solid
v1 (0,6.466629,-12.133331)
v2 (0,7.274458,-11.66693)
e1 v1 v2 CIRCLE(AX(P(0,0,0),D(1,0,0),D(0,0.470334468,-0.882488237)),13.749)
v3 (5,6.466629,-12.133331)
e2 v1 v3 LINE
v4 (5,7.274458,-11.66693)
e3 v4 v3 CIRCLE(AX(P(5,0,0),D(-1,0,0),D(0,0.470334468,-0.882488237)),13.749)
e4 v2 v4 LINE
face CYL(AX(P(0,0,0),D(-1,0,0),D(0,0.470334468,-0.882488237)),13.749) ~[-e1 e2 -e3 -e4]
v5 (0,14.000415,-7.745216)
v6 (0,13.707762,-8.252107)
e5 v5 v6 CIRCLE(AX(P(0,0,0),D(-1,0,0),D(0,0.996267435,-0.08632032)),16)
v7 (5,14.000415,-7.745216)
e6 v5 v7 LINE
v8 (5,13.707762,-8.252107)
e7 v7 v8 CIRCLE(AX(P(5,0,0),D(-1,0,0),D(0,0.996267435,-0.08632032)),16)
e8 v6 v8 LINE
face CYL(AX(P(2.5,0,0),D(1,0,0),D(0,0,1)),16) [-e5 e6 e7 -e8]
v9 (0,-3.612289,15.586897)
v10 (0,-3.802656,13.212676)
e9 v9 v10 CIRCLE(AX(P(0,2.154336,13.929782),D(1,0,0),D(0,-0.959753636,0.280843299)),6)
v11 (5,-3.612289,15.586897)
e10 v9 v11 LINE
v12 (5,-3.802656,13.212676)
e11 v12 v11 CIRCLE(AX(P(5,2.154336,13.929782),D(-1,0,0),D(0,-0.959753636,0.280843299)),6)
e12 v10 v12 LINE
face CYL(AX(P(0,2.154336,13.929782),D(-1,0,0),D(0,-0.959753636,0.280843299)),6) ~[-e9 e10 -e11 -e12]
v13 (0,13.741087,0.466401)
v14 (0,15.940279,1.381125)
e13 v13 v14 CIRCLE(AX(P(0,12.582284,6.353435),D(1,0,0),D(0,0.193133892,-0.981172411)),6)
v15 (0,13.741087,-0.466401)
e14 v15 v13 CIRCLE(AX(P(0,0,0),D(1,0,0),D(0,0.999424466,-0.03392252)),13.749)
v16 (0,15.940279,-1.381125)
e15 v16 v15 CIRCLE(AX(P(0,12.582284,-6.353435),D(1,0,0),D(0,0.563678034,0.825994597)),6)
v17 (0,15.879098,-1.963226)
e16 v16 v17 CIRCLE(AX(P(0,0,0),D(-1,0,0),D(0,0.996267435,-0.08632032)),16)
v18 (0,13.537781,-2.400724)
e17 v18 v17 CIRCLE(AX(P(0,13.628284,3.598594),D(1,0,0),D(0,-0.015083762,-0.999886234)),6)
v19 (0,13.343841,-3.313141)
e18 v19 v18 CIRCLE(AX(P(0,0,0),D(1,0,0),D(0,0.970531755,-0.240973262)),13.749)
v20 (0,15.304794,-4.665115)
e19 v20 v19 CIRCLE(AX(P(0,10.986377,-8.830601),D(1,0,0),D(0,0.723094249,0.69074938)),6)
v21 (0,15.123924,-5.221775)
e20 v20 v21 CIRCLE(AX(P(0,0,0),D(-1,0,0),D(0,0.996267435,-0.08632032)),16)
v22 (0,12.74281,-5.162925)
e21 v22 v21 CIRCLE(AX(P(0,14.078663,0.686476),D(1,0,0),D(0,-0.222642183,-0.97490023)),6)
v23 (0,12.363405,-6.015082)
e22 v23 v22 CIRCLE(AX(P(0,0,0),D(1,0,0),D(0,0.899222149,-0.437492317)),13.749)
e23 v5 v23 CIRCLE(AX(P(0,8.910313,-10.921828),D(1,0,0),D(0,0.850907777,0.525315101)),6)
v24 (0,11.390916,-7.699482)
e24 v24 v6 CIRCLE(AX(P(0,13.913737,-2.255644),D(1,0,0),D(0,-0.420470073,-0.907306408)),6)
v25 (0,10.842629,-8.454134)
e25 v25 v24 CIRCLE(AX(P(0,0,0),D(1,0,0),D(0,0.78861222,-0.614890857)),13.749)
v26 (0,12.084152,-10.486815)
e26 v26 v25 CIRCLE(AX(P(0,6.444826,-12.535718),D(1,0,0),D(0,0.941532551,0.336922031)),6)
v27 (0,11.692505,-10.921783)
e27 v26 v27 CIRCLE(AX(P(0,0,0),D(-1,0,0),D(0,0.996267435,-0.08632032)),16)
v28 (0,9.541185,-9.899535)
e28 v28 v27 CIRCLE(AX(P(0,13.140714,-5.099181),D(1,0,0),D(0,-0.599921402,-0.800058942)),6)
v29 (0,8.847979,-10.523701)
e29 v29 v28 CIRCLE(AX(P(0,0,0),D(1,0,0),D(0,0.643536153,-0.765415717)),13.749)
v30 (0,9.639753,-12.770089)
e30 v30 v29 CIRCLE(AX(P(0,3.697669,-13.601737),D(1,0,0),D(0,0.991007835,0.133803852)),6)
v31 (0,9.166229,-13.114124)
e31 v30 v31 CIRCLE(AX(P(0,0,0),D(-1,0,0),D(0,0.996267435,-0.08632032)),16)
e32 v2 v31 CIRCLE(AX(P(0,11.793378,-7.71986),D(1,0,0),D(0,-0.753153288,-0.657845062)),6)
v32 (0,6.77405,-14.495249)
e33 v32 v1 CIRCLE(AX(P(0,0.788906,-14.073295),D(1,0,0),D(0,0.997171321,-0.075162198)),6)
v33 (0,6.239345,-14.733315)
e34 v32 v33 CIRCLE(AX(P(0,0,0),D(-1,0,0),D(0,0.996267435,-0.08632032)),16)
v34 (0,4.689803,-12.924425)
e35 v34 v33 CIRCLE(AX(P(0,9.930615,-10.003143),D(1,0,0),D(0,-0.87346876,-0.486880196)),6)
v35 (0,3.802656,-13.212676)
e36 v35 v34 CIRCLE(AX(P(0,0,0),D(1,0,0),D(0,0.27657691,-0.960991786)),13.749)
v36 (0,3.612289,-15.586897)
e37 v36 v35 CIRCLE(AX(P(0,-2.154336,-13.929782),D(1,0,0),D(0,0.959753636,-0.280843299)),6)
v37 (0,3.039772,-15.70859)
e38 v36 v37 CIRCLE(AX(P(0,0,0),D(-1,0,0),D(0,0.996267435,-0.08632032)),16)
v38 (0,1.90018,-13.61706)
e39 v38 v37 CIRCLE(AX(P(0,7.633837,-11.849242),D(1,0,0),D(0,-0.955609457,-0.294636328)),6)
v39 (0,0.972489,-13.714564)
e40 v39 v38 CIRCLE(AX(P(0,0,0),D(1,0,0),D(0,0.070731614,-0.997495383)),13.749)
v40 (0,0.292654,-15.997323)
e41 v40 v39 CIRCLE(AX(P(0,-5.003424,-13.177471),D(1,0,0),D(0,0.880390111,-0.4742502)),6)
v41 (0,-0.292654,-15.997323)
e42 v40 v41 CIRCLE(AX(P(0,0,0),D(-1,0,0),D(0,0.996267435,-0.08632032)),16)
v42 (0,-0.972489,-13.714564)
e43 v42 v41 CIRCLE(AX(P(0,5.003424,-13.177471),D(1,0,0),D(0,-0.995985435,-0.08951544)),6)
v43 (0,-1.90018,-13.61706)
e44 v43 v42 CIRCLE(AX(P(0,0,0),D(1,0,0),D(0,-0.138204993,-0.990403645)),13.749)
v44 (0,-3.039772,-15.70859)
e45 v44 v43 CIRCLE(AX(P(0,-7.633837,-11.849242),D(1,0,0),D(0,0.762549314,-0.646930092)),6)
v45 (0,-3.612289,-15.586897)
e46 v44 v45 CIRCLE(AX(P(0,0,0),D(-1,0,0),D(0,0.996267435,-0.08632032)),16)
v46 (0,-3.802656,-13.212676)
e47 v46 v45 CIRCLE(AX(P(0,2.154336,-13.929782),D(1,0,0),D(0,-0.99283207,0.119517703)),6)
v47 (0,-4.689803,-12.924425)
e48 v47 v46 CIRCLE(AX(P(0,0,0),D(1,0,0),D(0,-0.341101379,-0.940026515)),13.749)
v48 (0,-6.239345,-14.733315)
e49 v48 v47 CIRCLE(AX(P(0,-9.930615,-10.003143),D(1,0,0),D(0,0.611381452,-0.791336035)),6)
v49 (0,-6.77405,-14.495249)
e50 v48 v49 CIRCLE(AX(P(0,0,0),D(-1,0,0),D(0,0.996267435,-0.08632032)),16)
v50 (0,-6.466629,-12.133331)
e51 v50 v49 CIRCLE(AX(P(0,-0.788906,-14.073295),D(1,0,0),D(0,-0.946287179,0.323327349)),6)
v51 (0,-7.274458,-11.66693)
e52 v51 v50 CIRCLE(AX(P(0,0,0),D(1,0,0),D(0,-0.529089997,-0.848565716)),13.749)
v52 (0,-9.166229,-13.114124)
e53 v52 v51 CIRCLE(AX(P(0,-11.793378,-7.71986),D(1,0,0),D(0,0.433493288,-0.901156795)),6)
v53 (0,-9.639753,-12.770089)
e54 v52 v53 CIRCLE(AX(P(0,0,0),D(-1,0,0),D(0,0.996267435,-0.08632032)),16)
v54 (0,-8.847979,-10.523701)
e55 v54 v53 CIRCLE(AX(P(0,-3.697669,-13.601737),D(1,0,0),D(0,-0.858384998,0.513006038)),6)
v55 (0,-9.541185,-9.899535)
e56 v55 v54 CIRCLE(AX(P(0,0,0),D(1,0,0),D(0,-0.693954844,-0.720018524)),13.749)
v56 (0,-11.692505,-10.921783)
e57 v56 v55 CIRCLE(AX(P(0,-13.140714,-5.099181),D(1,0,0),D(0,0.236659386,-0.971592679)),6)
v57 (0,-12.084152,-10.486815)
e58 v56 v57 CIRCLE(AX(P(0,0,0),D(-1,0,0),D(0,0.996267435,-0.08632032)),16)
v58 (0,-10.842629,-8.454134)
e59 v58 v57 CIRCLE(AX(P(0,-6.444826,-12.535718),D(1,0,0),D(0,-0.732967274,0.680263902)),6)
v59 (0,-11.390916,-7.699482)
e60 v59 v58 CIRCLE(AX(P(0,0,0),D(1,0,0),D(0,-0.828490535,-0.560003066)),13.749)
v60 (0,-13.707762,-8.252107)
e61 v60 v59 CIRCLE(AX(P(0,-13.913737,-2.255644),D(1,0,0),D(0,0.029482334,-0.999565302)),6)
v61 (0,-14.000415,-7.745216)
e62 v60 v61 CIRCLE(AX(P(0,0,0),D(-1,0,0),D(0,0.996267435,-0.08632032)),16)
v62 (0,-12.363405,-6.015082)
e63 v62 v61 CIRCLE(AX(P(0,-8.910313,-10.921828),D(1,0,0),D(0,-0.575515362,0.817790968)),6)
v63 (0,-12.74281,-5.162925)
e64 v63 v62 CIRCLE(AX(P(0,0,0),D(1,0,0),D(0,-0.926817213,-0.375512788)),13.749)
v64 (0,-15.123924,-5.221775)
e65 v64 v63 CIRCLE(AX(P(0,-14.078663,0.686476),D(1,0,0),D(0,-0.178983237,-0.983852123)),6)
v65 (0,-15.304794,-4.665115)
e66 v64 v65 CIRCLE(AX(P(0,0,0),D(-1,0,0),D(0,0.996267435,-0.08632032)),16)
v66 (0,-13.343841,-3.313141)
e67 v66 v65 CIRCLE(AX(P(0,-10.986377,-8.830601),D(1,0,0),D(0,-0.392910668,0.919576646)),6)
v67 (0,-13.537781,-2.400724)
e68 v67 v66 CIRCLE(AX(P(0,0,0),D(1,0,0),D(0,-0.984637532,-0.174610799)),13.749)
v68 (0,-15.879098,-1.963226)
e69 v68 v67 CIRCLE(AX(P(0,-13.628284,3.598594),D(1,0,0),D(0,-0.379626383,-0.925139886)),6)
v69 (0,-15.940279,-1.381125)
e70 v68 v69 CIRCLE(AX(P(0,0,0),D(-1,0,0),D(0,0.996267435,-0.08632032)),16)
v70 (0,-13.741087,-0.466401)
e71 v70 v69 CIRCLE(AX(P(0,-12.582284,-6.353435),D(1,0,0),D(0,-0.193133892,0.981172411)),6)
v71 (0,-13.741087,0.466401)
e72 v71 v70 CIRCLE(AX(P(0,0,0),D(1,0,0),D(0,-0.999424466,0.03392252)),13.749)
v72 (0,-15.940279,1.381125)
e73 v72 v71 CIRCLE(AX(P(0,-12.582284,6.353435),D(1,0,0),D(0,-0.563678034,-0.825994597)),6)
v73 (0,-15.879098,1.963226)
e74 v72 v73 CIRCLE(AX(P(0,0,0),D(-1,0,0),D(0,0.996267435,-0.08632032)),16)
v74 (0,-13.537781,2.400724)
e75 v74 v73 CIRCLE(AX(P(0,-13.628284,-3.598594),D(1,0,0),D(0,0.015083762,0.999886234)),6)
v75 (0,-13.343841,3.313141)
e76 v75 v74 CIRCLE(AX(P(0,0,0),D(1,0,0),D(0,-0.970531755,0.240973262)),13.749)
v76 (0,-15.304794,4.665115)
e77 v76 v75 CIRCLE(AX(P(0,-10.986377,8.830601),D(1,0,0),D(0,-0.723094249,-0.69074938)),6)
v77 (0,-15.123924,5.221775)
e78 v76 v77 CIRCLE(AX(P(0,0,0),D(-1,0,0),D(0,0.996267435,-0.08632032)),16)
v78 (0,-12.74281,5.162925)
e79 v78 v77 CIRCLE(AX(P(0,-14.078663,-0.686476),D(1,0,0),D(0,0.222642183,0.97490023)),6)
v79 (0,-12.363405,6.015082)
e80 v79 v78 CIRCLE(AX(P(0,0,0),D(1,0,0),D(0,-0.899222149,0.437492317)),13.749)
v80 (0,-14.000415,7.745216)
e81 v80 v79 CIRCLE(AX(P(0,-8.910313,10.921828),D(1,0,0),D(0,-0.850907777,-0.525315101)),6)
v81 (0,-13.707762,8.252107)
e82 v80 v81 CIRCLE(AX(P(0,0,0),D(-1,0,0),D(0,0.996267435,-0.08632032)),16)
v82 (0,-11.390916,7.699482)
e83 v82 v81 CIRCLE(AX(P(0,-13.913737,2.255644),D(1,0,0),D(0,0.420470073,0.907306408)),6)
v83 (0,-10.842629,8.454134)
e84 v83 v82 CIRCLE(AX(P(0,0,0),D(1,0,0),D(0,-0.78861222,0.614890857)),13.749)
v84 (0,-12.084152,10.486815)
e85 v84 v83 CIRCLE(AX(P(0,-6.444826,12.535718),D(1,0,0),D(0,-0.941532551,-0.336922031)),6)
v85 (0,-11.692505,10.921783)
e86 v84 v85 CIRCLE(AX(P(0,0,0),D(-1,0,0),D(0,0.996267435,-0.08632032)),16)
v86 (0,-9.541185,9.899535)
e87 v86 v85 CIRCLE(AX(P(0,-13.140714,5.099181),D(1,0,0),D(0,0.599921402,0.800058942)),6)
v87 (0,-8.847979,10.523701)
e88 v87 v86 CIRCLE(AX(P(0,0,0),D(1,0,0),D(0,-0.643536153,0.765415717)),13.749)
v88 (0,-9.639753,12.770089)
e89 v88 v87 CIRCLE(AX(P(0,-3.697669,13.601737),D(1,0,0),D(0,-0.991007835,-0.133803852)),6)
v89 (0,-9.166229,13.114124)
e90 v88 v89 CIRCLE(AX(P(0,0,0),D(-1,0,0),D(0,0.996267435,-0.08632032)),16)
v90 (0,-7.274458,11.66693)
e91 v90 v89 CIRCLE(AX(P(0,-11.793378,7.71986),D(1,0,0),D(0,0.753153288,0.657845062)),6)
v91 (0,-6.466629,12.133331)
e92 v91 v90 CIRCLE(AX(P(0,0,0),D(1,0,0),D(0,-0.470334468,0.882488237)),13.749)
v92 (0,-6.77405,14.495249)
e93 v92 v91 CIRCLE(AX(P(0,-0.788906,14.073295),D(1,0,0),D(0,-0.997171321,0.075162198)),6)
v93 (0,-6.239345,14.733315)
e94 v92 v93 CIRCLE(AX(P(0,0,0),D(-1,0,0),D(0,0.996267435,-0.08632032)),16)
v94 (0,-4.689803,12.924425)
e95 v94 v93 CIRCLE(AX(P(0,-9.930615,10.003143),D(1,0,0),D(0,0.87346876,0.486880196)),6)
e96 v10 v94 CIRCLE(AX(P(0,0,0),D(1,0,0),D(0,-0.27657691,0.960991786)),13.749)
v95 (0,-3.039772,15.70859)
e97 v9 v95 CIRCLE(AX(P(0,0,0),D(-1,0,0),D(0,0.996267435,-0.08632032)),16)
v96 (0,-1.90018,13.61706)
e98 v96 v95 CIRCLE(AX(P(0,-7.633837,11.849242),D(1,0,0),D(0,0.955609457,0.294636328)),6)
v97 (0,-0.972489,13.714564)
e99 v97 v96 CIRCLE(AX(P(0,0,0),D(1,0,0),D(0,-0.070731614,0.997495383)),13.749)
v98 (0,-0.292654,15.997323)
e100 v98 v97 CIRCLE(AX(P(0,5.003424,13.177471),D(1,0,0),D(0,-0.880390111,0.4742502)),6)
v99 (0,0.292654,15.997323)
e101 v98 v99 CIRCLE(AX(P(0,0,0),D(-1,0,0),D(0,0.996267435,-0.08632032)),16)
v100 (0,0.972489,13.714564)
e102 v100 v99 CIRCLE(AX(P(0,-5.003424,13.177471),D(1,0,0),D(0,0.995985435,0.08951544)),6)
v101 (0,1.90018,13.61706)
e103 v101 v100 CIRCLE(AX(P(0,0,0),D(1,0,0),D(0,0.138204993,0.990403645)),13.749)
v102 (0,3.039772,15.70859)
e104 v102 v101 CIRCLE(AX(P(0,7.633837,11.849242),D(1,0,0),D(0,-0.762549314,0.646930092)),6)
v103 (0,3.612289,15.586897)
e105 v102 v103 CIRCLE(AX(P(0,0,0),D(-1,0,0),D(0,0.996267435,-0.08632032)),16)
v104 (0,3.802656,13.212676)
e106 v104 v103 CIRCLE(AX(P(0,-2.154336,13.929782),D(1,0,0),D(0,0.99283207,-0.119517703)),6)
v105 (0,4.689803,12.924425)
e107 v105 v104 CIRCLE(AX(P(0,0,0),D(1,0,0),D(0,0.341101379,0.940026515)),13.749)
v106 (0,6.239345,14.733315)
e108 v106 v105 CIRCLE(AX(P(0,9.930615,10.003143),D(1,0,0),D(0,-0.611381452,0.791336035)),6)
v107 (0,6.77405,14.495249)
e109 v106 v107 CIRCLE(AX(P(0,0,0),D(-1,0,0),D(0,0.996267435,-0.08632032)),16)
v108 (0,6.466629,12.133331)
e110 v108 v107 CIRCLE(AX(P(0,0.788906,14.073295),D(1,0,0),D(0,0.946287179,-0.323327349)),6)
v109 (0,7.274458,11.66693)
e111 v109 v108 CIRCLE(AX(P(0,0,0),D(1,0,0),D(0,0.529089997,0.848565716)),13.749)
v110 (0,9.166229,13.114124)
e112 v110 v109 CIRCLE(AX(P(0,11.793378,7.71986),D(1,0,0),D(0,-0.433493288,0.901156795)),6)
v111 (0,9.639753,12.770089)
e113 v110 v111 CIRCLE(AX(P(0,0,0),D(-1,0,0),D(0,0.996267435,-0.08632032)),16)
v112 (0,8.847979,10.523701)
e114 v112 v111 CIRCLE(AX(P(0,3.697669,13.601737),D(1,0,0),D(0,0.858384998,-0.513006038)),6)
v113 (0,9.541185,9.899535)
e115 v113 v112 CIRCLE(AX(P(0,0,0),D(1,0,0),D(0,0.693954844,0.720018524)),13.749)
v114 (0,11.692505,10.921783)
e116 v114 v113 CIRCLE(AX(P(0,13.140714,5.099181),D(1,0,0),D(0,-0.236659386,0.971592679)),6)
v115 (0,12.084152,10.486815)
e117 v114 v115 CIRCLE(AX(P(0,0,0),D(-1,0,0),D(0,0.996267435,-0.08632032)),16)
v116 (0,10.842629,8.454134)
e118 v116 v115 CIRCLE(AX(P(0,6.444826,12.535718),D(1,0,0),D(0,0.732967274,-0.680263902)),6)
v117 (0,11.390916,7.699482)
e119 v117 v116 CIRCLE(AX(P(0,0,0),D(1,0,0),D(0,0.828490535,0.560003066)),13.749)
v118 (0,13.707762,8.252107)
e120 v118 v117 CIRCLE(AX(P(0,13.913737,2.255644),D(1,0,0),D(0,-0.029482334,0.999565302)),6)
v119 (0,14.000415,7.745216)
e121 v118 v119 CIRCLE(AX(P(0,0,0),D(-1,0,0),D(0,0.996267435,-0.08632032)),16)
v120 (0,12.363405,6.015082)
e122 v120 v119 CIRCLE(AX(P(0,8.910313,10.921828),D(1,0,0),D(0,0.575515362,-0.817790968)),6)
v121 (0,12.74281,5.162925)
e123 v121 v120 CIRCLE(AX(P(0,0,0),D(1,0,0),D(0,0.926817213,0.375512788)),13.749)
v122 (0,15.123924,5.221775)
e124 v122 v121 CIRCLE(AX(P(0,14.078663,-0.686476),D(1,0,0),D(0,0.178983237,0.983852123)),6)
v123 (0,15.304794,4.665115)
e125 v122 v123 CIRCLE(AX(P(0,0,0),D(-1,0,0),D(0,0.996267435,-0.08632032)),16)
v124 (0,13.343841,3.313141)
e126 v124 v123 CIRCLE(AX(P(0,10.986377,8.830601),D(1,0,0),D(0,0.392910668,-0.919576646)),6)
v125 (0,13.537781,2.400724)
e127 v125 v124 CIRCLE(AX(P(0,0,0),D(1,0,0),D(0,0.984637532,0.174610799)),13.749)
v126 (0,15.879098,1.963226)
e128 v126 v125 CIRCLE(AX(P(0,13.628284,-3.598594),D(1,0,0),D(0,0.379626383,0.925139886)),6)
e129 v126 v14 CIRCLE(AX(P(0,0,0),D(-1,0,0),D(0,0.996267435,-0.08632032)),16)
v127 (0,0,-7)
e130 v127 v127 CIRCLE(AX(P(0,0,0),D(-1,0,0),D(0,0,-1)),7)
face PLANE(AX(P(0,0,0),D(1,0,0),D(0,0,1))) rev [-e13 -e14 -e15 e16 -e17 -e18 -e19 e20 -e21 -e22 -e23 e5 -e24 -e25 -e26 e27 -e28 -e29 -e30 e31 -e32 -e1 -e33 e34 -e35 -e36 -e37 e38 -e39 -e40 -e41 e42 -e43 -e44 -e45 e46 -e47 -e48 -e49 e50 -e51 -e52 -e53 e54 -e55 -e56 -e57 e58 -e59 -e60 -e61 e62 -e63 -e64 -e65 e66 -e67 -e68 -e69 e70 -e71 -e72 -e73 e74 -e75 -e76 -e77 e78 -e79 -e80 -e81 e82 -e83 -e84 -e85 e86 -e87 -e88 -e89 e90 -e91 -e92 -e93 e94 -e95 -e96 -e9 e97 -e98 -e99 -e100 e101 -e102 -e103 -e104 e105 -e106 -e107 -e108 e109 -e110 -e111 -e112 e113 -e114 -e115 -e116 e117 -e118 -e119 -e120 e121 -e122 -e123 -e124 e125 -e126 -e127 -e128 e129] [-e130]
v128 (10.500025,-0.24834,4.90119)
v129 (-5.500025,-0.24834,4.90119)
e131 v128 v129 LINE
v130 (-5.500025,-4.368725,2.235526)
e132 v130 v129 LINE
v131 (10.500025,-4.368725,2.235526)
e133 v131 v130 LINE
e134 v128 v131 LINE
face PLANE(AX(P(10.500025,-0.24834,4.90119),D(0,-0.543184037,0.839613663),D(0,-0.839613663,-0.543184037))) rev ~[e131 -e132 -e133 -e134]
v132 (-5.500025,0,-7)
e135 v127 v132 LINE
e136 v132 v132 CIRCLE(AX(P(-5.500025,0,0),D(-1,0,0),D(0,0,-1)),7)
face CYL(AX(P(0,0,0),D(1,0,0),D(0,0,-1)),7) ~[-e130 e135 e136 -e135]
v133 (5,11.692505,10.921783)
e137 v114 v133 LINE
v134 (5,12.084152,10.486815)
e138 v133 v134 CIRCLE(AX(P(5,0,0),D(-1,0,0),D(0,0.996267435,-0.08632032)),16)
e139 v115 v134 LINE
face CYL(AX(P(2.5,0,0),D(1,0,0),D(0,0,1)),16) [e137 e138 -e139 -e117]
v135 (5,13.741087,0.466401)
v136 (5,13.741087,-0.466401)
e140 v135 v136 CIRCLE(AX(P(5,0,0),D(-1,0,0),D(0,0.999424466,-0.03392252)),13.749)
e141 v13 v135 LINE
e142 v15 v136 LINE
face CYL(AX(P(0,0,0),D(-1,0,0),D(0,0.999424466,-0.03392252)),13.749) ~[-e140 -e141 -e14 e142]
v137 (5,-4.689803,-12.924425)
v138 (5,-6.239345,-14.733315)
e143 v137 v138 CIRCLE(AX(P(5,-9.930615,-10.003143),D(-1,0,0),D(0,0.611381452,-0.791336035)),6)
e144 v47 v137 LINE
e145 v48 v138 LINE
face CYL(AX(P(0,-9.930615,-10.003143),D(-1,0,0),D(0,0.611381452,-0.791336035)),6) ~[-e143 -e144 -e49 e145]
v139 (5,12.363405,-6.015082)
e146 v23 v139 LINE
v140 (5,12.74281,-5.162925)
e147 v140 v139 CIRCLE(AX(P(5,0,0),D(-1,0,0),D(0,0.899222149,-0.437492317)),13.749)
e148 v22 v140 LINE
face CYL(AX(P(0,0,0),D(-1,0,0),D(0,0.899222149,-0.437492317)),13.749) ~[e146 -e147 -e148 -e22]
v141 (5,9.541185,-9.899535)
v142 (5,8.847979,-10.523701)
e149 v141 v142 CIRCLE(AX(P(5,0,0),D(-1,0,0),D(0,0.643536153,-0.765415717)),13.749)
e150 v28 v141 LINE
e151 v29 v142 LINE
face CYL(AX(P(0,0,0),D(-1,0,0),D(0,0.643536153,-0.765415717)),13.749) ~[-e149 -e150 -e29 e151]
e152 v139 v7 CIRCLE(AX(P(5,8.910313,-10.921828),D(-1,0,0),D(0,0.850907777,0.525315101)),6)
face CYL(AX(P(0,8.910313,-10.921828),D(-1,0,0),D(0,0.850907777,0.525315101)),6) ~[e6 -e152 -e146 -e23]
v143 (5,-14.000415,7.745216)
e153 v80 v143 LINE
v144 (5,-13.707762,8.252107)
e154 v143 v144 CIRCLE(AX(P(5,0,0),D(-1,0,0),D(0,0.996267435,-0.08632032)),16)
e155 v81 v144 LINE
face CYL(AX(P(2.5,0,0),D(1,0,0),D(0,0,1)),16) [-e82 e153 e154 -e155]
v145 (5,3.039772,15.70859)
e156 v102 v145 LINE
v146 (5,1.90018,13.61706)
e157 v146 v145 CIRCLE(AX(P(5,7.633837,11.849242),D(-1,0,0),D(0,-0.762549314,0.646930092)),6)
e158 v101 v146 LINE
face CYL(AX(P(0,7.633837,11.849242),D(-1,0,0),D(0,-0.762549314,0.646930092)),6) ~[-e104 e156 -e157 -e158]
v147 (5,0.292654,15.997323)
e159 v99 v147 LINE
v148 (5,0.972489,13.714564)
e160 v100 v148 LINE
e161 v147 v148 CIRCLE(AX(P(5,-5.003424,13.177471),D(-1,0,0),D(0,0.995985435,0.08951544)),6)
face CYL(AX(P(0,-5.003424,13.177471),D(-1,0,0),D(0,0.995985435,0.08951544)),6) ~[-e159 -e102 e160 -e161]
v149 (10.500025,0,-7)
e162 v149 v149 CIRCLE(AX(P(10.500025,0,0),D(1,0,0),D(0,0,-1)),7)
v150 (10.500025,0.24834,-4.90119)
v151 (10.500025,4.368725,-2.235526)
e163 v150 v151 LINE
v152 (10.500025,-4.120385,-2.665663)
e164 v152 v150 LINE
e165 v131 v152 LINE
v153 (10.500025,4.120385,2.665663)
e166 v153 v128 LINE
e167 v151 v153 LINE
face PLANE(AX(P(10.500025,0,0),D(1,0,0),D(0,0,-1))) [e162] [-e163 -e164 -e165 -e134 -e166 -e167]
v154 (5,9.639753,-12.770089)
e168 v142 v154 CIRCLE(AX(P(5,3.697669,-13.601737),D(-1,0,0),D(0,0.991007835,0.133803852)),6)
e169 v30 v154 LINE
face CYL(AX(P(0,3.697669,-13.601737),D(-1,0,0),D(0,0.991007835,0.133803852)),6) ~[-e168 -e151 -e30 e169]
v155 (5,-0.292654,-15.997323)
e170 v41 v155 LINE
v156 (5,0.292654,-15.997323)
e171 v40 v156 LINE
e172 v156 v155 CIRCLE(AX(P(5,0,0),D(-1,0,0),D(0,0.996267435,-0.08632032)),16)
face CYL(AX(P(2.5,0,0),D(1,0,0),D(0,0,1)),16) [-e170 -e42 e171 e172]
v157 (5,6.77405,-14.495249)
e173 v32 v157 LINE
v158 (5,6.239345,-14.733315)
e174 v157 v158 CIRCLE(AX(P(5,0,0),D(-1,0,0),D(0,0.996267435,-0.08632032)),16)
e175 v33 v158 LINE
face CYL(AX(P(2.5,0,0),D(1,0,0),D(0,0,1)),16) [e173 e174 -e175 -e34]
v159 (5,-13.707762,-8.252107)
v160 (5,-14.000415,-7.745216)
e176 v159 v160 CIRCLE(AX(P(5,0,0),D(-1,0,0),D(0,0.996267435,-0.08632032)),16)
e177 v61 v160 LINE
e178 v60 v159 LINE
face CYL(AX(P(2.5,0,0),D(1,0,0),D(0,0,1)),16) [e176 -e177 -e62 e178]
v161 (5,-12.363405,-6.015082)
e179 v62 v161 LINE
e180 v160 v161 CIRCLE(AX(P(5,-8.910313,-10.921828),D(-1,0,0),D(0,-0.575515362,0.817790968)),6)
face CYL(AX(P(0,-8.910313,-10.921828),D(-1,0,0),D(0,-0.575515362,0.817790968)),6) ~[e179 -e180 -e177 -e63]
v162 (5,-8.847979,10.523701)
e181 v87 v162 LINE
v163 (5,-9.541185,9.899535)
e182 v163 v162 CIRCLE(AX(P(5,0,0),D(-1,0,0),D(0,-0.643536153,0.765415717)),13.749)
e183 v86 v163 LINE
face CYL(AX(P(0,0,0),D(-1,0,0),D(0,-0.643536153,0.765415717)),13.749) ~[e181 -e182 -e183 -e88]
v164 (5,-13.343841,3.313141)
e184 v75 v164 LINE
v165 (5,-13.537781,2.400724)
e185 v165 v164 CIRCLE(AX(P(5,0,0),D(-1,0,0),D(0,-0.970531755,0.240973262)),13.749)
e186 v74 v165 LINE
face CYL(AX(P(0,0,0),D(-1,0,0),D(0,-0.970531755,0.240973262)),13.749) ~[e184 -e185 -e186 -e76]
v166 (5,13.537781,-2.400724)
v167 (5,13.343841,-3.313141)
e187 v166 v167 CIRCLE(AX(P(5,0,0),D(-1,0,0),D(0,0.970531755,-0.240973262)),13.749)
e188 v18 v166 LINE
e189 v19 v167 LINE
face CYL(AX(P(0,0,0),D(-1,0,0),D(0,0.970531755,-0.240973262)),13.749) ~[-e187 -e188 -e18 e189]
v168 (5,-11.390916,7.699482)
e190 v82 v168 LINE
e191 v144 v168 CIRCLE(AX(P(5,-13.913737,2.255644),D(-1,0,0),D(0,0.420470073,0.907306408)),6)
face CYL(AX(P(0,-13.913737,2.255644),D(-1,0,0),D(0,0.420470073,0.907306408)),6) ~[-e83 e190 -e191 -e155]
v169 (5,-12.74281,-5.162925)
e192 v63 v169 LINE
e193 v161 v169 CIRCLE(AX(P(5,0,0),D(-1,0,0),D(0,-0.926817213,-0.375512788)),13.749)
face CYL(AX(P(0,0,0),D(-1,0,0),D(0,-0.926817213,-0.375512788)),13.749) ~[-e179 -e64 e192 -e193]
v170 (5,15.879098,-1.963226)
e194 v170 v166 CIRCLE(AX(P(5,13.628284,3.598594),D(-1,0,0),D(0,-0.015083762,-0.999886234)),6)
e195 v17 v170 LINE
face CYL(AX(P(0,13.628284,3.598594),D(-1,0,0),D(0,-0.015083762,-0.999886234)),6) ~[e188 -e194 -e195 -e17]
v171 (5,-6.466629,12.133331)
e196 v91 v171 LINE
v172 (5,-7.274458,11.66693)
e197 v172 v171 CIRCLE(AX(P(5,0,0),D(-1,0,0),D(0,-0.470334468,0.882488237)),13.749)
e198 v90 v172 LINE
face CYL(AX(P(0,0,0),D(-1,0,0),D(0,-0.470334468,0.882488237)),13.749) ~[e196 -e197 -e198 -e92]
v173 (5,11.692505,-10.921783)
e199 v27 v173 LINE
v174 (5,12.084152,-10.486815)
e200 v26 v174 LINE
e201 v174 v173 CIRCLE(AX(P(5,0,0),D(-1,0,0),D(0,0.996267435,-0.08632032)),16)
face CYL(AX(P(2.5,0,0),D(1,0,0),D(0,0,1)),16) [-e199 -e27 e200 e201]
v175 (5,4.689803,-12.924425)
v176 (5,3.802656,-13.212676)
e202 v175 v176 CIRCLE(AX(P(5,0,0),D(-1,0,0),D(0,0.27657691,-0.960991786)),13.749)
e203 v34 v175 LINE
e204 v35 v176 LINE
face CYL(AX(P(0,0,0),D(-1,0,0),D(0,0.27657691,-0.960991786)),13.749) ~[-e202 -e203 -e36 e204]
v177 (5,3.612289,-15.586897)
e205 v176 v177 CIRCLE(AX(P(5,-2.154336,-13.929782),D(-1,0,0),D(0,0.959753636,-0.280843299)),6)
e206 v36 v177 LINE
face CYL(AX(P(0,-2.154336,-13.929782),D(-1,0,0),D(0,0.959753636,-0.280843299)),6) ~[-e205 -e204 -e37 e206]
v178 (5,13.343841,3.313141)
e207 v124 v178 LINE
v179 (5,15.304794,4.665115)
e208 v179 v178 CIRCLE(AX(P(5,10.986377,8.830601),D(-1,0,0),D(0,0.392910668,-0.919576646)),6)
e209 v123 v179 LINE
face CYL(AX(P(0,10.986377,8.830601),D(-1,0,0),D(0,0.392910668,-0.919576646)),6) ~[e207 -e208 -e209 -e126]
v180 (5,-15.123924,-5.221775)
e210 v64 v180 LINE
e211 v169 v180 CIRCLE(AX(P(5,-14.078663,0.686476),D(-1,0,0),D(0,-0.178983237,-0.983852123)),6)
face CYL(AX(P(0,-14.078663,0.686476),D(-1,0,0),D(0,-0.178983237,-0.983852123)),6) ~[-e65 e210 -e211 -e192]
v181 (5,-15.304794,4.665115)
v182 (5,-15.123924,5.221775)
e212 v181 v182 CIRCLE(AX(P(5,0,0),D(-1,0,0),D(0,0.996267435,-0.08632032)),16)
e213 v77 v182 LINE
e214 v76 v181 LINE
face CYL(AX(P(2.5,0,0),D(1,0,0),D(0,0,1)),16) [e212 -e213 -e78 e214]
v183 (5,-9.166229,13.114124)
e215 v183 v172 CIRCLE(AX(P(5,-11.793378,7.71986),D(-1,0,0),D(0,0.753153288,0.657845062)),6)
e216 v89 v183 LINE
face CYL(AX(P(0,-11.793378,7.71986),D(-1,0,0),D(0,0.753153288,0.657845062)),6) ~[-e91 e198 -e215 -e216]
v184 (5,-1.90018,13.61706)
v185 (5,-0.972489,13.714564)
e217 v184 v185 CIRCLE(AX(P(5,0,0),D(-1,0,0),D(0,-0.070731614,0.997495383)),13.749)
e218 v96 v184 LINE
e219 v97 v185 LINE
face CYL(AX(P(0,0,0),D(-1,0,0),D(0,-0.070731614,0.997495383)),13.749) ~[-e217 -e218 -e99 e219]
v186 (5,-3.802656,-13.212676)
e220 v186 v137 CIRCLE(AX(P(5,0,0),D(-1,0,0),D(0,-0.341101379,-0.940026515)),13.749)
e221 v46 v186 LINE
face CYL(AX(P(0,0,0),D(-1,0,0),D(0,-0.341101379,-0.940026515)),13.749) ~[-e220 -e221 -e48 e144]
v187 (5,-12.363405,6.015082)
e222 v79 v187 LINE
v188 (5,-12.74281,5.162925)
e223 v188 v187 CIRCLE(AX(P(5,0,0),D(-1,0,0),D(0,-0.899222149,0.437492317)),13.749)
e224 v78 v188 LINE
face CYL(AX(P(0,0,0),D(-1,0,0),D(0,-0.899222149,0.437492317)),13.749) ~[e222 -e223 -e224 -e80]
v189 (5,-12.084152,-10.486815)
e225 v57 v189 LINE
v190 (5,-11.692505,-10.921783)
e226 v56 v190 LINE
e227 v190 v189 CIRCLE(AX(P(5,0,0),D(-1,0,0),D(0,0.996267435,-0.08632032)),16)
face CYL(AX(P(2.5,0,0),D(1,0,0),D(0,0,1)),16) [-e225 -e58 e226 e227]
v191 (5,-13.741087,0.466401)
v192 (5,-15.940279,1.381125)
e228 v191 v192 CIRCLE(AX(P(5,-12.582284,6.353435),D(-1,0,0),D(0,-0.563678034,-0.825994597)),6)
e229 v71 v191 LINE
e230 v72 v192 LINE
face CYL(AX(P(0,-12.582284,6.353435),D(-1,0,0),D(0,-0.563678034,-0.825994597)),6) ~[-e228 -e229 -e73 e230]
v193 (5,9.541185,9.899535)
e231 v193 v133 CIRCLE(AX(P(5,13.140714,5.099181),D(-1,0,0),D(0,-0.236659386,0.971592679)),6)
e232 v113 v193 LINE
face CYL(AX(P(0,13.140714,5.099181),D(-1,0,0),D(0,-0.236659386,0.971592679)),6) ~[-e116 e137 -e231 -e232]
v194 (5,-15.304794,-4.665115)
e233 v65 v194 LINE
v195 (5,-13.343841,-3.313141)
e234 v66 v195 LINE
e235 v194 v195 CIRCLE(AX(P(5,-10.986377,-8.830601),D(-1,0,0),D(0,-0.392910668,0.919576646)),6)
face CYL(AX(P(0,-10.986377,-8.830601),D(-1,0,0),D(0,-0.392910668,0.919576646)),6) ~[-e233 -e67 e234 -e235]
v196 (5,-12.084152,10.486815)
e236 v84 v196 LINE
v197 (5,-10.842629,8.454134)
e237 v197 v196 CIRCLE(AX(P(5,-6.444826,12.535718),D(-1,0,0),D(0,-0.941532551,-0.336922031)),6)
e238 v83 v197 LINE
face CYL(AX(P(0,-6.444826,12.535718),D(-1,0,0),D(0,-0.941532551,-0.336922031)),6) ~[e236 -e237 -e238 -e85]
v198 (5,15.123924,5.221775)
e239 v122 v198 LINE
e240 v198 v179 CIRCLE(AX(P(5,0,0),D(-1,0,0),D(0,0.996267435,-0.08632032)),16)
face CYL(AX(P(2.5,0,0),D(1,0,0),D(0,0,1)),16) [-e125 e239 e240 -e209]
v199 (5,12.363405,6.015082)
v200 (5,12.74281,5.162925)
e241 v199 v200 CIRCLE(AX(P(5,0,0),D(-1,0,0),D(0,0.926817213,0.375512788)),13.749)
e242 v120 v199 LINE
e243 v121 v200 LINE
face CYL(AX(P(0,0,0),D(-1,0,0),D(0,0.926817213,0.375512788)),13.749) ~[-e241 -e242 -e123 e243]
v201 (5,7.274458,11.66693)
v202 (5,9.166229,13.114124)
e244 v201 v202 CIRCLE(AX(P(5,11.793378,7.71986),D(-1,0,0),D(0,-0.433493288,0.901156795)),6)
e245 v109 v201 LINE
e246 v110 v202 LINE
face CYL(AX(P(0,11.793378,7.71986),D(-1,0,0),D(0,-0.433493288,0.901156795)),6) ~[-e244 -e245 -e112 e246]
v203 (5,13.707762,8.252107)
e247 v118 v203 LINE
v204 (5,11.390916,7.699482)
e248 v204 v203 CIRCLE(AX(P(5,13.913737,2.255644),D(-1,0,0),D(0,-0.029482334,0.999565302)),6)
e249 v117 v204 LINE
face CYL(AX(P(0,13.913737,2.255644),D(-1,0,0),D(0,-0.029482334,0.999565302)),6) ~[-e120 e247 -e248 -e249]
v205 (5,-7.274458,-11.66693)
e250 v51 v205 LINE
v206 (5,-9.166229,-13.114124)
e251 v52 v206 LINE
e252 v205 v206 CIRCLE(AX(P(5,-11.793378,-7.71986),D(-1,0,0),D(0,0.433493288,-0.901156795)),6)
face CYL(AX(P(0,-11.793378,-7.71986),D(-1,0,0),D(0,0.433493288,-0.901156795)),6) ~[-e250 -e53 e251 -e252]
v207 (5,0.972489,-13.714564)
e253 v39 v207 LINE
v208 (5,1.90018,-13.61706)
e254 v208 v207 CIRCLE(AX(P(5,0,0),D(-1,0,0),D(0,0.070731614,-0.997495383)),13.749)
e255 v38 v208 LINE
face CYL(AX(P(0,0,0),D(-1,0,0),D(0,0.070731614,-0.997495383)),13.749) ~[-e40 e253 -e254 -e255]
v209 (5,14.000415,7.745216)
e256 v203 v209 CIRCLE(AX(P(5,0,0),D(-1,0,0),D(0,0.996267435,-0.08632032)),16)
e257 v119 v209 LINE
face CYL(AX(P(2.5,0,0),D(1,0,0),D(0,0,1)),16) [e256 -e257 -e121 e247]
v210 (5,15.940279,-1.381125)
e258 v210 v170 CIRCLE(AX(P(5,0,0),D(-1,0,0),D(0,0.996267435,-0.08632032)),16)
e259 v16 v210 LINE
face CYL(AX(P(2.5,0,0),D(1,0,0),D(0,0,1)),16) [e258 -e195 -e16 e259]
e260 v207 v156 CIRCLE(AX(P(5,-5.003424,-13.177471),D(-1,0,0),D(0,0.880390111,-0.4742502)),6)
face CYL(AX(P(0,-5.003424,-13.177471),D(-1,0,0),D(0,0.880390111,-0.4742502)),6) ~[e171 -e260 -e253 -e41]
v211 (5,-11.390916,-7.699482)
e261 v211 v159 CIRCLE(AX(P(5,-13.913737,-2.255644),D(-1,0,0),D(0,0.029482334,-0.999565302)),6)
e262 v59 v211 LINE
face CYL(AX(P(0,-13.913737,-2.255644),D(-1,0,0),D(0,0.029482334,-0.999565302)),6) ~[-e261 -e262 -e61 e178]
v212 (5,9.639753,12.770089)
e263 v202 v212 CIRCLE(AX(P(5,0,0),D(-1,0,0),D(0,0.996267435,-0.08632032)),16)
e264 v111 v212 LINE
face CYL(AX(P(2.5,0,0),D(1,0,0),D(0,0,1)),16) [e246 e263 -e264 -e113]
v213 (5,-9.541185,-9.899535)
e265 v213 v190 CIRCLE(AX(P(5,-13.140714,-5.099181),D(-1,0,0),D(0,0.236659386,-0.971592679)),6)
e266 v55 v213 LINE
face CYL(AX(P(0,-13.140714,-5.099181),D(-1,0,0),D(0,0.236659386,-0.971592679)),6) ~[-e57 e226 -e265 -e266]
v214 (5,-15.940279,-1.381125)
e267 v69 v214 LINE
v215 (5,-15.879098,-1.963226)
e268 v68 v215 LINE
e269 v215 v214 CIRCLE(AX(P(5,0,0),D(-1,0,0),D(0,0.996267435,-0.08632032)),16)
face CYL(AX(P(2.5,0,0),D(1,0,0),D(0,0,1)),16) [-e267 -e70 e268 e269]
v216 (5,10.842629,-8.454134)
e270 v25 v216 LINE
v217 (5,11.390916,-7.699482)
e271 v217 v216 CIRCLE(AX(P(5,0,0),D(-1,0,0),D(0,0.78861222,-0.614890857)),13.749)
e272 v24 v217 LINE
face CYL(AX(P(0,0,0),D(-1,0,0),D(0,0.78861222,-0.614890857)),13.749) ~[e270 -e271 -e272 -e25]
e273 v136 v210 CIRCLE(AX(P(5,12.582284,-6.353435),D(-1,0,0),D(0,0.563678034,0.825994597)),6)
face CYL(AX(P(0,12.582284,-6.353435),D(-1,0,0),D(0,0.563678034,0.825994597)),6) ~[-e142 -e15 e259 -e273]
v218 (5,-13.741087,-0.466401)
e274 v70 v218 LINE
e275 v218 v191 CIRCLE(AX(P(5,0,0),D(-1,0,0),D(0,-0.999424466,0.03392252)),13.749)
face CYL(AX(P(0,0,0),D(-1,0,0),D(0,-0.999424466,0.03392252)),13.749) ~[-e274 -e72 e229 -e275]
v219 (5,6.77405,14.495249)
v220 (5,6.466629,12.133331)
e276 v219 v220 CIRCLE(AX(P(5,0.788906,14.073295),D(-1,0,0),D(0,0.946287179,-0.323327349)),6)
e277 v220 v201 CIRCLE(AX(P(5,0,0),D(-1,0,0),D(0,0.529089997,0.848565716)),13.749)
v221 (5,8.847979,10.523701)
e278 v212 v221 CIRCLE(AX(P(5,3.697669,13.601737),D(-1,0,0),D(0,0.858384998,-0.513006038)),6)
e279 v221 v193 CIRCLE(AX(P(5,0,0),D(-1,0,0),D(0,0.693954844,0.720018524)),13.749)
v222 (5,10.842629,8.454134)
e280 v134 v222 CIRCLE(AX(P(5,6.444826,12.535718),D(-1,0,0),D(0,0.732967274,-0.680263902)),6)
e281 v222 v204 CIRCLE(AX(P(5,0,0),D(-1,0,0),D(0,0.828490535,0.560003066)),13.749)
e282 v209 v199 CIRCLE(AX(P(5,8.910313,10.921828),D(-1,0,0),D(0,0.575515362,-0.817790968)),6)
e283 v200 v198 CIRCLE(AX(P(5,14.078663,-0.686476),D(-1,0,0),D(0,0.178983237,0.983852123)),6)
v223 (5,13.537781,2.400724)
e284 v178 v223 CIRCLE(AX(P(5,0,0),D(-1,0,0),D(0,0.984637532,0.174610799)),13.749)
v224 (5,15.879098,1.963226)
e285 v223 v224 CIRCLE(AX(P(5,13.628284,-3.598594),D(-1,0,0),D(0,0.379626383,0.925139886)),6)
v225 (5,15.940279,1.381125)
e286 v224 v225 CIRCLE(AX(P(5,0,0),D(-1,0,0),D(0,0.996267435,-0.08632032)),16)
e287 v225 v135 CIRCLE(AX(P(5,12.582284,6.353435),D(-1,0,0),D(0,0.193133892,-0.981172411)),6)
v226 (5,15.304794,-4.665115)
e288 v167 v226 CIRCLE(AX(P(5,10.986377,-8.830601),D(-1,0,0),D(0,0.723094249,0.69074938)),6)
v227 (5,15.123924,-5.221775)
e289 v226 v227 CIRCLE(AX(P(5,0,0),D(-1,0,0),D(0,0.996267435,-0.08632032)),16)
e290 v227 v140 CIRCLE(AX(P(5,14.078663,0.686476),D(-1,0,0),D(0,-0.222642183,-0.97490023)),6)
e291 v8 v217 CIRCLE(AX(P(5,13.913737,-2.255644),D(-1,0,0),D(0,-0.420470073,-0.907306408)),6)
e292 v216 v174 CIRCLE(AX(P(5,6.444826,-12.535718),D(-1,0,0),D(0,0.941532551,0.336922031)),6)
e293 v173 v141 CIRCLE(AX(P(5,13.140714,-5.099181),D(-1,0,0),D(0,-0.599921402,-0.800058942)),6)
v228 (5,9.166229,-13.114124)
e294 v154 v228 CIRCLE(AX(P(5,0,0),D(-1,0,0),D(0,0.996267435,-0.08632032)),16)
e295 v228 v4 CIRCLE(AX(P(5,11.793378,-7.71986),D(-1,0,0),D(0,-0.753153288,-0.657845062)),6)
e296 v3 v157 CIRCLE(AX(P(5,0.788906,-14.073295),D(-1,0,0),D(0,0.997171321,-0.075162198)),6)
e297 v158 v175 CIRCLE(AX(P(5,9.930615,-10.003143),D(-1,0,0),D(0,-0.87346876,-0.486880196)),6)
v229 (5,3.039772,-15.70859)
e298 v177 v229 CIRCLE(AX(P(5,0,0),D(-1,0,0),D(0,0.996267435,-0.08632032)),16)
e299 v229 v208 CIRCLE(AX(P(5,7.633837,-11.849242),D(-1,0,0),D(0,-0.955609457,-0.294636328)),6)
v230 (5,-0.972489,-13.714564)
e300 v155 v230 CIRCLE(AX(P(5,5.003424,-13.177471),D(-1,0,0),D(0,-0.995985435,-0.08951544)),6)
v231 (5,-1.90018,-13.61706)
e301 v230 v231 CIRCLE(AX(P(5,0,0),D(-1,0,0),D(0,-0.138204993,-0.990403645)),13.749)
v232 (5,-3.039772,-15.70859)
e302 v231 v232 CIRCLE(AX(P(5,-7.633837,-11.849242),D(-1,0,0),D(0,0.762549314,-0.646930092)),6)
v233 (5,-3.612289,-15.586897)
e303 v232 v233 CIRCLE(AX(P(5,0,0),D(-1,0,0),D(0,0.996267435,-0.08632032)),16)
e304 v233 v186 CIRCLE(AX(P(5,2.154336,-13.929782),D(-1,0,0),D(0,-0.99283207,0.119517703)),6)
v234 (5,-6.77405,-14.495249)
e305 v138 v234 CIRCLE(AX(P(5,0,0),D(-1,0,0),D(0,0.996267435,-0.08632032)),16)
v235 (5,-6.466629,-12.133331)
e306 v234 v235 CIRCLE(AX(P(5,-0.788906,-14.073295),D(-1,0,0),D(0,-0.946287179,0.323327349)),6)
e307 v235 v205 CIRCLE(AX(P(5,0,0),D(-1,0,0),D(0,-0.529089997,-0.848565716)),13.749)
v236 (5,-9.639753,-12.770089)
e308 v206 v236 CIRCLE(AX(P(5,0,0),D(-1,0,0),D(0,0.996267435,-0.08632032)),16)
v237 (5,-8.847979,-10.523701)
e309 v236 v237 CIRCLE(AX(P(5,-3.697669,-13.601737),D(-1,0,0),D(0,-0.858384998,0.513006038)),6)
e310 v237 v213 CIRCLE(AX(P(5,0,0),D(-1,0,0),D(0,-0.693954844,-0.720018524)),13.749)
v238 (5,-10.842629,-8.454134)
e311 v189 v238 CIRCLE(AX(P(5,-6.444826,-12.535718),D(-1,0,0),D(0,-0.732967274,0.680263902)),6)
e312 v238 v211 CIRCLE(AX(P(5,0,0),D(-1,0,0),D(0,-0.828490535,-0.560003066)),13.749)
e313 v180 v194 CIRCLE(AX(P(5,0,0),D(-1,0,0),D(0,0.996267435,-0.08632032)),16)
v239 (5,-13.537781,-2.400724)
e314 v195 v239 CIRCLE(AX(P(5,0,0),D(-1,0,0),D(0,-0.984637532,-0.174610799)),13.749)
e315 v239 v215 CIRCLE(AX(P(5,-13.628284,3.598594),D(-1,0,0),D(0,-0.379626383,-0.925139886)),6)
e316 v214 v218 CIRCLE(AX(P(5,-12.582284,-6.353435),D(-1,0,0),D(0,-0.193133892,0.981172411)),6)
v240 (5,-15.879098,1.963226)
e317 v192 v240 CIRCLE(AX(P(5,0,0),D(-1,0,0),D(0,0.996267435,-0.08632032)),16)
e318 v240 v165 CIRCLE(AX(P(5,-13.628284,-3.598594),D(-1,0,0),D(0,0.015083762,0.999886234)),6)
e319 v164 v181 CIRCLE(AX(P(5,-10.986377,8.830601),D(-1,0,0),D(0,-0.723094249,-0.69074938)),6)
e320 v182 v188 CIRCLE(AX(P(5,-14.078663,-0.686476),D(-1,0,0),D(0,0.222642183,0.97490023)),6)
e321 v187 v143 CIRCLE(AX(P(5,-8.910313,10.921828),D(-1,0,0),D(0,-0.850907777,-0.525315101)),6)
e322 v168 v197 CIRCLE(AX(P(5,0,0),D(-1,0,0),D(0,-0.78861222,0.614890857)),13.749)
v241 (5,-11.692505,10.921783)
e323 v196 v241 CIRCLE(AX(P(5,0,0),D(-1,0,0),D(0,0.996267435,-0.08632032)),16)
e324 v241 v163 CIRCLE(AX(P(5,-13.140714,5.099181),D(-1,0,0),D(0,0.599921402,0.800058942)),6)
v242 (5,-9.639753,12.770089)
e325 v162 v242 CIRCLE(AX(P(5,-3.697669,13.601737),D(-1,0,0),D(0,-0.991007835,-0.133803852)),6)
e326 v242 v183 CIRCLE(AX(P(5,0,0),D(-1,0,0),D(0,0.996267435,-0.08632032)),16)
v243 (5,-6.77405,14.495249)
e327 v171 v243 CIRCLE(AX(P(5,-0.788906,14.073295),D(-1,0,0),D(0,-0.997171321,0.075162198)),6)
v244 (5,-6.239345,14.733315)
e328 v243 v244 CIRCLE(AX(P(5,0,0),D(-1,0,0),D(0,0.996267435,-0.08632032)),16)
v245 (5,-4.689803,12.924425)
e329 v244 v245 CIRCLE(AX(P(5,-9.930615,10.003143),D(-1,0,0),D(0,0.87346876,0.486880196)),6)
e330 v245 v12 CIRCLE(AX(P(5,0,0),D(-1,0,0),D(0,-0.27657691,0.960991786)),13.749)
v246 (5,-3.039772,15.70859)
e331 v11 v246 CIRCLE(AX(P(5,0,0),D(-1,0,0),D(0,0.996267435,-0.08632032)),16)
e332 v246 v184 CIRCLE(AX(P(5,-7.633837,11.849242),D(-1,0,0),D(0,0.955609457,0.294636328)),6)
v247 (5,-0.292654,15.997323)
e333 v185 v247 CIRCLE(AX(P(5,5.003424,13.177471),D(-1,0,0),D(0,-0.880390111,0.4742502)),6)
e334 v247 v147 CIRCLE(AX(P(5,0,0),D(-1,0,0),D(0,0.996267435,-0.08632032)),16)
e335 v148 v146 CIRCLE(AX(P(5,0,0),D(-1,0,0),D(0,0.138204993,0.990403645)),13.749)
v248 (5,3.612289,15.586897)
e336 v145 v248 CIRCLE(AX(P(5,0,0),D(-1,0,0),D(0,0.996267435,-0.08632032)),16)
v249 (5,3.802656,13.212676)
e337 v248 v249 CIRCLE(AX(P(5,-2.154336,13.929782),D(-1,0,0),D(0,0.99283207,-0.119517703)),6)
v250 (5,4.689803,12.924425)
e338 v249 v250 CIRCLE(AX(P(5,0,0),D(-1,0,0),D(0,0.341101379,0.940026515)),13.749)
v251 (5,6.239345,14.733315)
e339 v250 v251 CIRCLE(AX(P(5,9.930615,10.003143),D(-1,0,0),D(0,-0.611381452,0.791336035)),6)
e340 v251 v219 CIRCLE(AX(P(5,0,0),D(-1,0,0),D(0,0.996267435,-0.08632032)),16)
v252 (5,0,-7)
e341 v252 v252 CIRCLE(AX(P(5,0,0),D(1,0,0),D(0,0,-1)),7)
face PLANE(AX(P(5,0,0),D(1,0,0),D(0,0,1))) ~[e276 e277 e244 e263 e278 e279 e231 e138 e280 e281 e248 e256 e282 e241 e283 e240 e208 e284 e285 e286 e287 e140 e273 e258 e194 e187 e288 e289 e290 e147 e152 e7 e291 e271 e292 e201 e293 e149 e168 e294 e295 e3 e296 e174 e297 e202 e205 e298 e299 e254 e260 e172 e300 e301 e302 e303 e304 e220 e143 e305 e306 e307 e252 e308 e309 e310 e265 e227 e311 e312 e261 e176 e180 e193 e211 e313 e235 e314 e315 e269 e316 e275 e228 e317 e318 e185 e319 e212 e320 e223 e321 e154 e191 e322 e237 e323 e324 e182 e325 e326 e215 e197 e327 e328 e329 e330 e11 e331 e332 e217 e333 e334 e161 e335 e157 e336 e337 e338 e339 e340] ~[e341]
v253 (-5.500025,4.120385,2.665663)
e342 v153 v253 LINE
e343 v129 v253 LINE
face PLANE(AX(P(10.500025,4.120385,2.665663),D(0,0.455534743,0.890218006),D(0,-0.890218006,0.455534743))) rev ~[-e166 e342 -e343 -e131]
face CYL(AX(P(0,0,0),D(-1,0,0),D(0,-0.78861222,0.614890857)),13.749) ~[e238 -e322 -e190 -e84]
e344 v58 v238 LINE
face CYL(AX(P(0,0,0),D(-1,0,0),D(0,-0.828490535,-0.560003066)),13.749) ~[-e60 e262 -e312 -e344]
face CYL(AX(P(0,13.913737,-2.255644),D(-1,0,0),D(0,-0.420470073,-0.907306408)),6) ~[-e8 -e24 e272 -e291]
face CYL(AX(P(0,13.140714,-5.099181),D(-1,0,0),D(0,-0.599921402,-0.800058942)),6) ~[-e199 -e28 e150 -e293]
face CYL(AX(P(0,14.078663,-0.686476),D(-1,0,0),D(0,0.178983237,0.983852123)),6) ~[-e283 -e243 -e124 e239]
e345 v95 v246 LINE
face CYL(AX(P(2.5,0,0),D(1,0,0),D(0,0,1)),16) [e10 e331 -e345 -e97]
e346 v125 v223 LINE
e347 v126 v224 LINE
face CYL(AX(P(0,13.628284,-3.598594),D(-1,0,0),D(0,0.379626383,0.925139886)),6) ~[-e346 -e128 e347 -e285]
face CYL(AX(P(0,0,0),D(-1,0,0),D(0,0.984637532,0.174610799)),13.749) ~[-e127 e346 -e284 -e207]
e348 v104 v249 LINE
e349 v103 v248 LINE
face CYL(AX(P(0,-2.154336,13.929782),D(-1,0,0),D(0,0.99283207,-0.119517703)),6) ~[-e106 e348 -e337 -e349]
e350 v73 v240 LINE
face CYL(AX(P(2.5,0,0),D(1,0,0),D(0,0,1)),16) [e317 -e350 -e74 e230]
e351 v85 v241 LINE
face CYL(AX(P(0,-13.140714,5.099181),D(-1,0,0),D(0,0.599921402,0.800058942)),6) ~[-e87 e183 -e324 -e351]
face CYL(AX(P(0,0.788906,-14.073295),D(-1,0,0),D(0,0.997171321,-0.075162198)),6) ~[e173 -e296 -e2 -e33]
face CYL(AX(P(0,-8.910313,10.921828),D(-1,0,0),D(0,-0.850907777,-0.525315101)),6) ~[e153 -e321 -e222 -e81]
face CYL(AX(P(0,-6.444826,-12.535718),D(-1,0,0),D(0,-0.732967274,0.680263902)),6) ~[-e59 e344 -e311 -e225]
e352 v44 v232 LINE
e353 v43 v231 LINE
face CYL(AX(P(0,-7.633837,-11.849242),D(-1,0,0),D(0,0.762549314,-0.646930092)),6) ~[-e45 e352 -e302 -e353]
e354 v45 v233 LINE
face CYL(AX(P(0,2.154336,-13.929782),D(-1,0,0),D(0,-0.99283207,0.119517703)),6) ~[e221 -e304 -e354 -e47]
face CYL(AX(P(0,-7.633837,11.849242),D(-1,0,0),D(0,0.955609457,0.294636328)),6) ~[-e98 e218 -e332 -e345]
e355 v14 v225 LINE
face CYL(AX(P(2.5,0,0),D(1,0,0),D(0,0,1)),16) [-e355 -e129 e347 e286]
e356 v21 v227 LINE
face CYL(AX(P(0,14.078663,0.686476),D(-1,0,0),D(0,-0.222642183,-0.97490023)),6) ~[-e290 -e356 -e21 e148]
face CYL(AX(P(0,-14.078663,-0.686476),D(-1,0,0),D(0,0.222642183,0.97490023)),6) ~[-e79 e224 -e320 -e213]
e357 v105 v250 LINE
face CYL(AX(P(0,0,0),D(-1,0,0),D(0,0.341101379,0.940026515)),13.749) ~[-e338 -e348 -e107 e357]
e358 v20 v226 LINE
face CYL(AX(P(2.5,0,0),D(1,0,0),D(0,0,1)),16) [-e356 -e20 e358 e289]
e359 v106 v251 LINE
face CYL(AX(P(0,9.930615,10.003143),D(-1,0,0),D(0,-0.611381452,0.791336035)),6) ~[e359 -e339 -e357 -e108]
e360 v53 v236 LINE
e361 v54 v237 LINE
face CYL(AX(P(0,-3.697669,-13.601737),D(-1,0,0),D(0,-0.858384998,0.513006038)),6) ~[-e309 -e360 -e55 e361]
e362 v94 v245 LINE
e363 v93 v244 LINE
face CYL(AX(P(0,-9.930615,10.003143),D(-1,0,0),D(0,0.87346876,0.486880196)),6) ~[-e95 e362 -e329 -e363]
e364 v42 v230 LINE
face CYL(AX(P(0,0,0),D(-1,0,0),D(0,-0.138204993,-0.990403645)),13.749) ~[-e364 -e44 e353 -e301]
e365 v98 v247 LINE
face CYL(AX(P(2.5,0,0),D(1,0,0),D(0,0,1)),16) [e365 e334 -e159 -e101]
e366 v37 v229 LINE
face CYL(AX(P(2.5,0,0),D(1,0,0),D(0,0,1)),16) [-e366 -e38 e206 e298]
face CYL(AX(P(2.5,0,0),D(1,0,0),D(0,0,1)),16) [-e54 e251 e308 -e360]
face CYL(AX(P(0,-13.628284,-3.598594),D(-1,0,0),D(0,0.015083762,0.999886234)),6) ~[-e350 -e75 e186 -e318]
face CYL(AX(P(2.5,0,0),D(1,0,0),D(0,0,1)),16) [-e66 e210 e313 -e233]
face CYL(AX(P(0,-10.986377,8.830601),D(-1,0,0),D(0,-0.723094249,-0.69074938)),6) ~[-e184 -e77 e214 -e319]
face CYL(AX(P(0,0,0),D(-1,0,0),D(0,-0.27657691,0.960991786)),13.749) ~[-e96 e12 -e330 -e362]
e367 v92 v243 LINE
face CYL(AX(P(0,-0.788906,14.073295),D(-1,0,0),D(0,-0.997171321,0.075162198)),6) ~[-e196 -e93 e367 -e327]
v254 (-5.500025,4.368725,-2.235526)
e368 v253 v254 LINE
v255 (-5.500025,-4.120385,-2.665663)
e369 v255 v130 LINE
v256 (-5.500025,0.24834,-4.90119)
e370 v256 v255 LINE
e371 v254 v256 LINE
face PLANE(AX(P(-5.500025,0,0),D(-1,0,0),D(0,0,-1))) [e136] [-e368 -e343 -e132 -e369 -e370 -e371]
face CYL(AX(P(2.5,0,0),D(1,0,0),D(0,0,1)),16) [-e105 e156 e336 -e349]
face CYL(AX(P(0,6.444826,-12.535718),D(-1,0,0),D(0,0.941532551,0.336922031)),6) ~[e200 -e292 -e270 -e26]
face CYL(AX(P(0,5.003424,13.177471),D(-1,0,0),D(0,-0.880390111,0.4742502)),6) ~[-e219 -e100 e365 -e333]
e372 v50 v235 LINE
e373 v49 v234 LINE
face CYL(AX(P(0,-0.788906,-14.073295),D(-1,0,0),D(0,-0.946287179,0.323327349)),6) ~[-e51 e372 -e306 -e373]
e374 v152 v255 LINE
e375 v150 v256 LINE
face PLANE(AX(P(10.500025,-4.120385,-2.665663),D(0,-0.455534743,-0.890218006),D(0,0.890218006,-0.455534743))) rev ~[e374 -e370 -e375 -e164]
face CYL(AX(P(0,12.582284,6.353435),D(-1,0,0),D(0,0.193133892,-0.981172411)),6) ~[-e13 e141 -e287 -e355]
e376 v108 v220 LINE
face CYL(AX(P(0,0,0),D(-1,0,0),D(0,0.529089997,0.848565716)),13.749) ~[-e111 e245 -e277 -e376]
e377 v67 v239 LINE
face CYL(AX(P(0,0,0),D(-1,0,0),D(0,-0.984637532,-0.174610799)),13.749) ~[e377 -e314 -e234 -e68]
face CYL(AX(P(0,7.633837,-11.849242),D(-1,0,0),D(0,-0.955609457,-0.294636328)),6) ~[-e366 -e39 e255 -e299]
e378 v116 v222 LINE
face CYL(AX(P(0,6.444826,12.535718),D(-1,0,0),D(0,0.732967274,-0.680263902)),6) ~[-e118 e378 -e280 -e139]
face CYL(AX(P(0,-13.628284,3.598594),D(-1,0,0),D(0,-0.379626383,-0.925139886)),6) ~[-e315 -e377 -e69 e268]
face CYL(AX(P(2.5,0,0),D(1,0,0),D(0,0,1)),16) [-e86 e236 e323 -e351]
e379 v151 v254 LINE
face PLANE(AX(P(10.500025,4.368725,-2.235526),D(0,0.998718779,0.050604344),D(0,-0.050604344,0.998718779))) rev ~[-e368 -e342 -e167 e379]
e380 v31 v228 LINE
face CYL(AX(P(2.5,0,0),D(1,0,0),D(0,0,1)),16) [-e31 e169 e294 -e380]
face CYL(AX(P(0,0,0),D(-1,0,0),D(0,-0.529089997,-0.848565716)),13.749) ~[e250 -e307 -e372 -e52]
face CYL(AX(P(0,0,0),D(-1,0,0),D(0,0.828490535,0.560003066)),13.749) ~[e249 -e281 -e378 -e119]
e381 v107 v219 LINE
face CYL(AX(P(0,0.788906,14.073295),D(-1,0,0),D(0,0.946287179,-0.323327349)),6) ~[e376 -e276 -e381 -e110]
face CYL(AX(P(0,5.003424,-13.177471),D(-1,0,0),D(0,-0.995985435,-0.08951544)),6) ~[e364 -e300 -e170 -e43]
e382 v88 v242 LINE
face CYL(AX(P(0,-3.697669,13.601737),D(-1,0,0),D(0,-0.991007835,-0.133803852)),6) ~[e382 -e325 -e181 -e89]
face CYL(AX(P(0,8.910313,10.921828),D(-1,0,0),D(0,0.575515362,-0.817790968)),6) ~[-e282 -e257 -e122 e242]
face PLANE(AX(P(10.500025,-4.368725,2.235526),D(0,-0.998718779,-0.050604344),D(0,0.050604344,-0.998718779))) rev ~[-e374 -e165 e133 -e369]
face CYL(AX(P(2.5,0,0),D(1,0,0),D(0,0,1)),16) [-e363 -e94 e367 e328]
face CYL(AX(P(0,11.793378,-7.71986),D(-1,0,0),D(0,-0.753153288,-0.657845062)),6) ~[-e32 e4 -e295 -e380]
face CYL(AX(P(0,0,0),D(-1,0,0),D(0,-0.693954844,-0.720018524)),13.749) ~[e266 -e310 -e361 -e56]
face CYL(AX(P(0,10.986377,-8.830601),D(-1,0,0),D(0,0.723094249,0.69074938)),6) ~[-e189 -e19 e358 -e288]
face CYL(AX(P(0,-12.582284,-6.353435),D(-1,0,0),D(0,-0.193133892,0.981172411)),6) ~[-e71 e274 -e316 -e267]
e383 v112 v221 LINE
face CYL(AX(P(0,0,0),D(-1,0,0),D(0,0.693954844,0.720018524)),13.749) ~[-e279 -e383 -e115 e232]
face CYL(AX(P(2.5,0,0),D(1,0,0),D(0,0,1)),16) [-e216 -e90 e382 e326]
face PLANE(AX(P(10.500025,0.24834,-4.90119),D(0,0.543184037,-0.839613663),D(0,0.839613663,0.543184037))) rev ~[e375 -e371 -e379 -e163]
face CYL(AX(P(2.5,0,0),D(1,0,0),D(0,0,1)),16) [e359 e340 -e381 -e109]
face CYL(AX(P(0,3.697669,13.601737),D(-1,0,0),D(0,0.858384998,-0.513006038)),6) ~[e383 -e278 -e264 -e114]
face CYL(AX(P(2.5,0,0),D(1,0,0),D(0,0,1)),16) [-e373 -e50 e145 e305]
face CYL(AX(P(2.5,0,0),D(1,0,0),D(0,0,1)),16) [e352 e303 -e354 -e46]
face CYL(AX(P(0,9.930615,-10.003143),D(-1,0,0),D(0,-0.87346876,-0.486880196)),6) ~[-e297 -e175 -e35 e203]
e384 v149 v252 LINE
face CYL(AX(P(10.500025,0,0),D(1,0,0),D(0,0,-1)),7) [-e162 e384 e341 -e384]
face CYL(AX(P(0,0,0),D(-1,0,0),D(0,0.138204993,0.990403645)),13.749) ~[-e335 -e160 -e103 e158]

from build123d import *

# Parameters (mm, degrees)
BASPROSKE_W        = 5
BASPROSKE_H        = 16
TOOTHCUT_DEPTH     = 24.173260453
TEETHCUTS_COUNT    = 30
TEETHCUTS_ANGLE    = 348
HUBNEABOTSKE_R     = 7
HUBNEARBOTH_DEPTH  = 5.5000254
HUBFAR_START       = 5.5000254
HUBFARSKE_R        = 7
HUBFAR_DEPTH       = 5.5000254
BORSKE_R           = 1
BORE_DEPTH         = 16.0000508
CUT_EXTRUDE1_DEPTH = 28.678405283


with BuildPart() as part:
    # BasProSke → Base-Revolve (revolve)
    with BuildSketch(Plane(origin=(0, 0, 0), x_dir=(1, 0, 0), z_dir=(0, 1, 0)), mode=Mode.PRIVATE) as base_revolve_sk:
        with Locations((2.5, 8)):
            Rectangle(BASPROSKE_W, BASPROSKE_H)
    revolve(base_revolve_sk.sketch.rotate(Axis((-10, 0, 0), (1, 0, 0)), 180), axis=Axis((-10, 0, 0), (1, 0, 0)))

    # TooCutSke → ToothCut (cut, through all)
    with BuildSketch(Plane(origin=(0, 0, 0), x_dir=(0, 0, -1), z_dir=(1, 0, 0))):
        with BuildLine():
            ThreePointArc((0.466400716, 13.741086979), (0, 13.749), (-0.466400716, 13.741086979))
            ThreePointArc((-0.466400716, 13.741086979), (-0.819142092, 14.899954875), (-1.3974676, 15.964351834))
            ThreePointArc((-1.3974676, 15.964351834), (0, 16.0254), (1.3974676, 15.964351834))
            ThreePointArc((1.3974676, 15.964351834), (0.819142092, 14.899954875), (0.466400716, 13.741086979))
        make_face()
    toothcut = extrude(amount=TOOTHCUT_DEPTH, mode=Mode.SUBTRACT)

    # TeethCuts: ToothCut ×30 about axis
    teethcuts_axis = Axis((-10, 0, 0), (1, 0, 0))
    for i in range(1, TEETHCUTS_COUNT):
        add(toothcut.rotate(teethcuts_axis, i * TEETHCUTS_ANGLE / (TEETHCUTS_COUNT - 1)), mode=Mode.SUBTRACT)

    # HubNeaBotSke → HubNearBoth (add)
    with BuildSketch(Plane.ZY):
        with Locations(Location((0, 0, 0), (0, 0, 180))):
            Circle(HUBNEABOTSKE_R)
    extrude(amount=HUBNEARBOTH_DEPTH)

    # HubFarSke → HubFar (add)
    with BuildSketch(Plane(origin=(5, 0, 0), x_dir=(0, 0, -1), z_dir=(1, 0, 0)).offset(HUBFAR_START)):
        Circle(HUBFARSKE_R)
    extrude(amount=-HUBFAR_DEPTH)

    # BorSke → Bore (cut, symmetric)
    with BuildSketch(Plane(origin=(0, 0, 0), x_dir=(0, 0, -1), z_dir=(1, 0, 0))):
        with Locations(Location((0, 0, 0), (0, 0, 180))):
            Circle(BORSKE_R)
    extrude(amount=BORE_DEPTH, both=True, mode=Mode.SUBTRACT)

    # Sketch2 → Cut-Extrude1 (cut, through all)
    with BuildSketch(Plane(origin=(10.5000254, 0, 0), x_dir=(0, 0, -1), z_dir=(1, 0, 0))):
        Polygon((2.235526404, 4.368724646), (-2.665663324, 4.120384979), (-4.901189727, -0.248339666), (-2.235526404, -4.368724646), (2.665663324, -4.120384979), (4.901189727, 0.248339666), align=None)
    extrude(amount=-CUT_EXTRUDE1_DEPTH, mode=Mode.SUBTRACT)


solid = part.part
